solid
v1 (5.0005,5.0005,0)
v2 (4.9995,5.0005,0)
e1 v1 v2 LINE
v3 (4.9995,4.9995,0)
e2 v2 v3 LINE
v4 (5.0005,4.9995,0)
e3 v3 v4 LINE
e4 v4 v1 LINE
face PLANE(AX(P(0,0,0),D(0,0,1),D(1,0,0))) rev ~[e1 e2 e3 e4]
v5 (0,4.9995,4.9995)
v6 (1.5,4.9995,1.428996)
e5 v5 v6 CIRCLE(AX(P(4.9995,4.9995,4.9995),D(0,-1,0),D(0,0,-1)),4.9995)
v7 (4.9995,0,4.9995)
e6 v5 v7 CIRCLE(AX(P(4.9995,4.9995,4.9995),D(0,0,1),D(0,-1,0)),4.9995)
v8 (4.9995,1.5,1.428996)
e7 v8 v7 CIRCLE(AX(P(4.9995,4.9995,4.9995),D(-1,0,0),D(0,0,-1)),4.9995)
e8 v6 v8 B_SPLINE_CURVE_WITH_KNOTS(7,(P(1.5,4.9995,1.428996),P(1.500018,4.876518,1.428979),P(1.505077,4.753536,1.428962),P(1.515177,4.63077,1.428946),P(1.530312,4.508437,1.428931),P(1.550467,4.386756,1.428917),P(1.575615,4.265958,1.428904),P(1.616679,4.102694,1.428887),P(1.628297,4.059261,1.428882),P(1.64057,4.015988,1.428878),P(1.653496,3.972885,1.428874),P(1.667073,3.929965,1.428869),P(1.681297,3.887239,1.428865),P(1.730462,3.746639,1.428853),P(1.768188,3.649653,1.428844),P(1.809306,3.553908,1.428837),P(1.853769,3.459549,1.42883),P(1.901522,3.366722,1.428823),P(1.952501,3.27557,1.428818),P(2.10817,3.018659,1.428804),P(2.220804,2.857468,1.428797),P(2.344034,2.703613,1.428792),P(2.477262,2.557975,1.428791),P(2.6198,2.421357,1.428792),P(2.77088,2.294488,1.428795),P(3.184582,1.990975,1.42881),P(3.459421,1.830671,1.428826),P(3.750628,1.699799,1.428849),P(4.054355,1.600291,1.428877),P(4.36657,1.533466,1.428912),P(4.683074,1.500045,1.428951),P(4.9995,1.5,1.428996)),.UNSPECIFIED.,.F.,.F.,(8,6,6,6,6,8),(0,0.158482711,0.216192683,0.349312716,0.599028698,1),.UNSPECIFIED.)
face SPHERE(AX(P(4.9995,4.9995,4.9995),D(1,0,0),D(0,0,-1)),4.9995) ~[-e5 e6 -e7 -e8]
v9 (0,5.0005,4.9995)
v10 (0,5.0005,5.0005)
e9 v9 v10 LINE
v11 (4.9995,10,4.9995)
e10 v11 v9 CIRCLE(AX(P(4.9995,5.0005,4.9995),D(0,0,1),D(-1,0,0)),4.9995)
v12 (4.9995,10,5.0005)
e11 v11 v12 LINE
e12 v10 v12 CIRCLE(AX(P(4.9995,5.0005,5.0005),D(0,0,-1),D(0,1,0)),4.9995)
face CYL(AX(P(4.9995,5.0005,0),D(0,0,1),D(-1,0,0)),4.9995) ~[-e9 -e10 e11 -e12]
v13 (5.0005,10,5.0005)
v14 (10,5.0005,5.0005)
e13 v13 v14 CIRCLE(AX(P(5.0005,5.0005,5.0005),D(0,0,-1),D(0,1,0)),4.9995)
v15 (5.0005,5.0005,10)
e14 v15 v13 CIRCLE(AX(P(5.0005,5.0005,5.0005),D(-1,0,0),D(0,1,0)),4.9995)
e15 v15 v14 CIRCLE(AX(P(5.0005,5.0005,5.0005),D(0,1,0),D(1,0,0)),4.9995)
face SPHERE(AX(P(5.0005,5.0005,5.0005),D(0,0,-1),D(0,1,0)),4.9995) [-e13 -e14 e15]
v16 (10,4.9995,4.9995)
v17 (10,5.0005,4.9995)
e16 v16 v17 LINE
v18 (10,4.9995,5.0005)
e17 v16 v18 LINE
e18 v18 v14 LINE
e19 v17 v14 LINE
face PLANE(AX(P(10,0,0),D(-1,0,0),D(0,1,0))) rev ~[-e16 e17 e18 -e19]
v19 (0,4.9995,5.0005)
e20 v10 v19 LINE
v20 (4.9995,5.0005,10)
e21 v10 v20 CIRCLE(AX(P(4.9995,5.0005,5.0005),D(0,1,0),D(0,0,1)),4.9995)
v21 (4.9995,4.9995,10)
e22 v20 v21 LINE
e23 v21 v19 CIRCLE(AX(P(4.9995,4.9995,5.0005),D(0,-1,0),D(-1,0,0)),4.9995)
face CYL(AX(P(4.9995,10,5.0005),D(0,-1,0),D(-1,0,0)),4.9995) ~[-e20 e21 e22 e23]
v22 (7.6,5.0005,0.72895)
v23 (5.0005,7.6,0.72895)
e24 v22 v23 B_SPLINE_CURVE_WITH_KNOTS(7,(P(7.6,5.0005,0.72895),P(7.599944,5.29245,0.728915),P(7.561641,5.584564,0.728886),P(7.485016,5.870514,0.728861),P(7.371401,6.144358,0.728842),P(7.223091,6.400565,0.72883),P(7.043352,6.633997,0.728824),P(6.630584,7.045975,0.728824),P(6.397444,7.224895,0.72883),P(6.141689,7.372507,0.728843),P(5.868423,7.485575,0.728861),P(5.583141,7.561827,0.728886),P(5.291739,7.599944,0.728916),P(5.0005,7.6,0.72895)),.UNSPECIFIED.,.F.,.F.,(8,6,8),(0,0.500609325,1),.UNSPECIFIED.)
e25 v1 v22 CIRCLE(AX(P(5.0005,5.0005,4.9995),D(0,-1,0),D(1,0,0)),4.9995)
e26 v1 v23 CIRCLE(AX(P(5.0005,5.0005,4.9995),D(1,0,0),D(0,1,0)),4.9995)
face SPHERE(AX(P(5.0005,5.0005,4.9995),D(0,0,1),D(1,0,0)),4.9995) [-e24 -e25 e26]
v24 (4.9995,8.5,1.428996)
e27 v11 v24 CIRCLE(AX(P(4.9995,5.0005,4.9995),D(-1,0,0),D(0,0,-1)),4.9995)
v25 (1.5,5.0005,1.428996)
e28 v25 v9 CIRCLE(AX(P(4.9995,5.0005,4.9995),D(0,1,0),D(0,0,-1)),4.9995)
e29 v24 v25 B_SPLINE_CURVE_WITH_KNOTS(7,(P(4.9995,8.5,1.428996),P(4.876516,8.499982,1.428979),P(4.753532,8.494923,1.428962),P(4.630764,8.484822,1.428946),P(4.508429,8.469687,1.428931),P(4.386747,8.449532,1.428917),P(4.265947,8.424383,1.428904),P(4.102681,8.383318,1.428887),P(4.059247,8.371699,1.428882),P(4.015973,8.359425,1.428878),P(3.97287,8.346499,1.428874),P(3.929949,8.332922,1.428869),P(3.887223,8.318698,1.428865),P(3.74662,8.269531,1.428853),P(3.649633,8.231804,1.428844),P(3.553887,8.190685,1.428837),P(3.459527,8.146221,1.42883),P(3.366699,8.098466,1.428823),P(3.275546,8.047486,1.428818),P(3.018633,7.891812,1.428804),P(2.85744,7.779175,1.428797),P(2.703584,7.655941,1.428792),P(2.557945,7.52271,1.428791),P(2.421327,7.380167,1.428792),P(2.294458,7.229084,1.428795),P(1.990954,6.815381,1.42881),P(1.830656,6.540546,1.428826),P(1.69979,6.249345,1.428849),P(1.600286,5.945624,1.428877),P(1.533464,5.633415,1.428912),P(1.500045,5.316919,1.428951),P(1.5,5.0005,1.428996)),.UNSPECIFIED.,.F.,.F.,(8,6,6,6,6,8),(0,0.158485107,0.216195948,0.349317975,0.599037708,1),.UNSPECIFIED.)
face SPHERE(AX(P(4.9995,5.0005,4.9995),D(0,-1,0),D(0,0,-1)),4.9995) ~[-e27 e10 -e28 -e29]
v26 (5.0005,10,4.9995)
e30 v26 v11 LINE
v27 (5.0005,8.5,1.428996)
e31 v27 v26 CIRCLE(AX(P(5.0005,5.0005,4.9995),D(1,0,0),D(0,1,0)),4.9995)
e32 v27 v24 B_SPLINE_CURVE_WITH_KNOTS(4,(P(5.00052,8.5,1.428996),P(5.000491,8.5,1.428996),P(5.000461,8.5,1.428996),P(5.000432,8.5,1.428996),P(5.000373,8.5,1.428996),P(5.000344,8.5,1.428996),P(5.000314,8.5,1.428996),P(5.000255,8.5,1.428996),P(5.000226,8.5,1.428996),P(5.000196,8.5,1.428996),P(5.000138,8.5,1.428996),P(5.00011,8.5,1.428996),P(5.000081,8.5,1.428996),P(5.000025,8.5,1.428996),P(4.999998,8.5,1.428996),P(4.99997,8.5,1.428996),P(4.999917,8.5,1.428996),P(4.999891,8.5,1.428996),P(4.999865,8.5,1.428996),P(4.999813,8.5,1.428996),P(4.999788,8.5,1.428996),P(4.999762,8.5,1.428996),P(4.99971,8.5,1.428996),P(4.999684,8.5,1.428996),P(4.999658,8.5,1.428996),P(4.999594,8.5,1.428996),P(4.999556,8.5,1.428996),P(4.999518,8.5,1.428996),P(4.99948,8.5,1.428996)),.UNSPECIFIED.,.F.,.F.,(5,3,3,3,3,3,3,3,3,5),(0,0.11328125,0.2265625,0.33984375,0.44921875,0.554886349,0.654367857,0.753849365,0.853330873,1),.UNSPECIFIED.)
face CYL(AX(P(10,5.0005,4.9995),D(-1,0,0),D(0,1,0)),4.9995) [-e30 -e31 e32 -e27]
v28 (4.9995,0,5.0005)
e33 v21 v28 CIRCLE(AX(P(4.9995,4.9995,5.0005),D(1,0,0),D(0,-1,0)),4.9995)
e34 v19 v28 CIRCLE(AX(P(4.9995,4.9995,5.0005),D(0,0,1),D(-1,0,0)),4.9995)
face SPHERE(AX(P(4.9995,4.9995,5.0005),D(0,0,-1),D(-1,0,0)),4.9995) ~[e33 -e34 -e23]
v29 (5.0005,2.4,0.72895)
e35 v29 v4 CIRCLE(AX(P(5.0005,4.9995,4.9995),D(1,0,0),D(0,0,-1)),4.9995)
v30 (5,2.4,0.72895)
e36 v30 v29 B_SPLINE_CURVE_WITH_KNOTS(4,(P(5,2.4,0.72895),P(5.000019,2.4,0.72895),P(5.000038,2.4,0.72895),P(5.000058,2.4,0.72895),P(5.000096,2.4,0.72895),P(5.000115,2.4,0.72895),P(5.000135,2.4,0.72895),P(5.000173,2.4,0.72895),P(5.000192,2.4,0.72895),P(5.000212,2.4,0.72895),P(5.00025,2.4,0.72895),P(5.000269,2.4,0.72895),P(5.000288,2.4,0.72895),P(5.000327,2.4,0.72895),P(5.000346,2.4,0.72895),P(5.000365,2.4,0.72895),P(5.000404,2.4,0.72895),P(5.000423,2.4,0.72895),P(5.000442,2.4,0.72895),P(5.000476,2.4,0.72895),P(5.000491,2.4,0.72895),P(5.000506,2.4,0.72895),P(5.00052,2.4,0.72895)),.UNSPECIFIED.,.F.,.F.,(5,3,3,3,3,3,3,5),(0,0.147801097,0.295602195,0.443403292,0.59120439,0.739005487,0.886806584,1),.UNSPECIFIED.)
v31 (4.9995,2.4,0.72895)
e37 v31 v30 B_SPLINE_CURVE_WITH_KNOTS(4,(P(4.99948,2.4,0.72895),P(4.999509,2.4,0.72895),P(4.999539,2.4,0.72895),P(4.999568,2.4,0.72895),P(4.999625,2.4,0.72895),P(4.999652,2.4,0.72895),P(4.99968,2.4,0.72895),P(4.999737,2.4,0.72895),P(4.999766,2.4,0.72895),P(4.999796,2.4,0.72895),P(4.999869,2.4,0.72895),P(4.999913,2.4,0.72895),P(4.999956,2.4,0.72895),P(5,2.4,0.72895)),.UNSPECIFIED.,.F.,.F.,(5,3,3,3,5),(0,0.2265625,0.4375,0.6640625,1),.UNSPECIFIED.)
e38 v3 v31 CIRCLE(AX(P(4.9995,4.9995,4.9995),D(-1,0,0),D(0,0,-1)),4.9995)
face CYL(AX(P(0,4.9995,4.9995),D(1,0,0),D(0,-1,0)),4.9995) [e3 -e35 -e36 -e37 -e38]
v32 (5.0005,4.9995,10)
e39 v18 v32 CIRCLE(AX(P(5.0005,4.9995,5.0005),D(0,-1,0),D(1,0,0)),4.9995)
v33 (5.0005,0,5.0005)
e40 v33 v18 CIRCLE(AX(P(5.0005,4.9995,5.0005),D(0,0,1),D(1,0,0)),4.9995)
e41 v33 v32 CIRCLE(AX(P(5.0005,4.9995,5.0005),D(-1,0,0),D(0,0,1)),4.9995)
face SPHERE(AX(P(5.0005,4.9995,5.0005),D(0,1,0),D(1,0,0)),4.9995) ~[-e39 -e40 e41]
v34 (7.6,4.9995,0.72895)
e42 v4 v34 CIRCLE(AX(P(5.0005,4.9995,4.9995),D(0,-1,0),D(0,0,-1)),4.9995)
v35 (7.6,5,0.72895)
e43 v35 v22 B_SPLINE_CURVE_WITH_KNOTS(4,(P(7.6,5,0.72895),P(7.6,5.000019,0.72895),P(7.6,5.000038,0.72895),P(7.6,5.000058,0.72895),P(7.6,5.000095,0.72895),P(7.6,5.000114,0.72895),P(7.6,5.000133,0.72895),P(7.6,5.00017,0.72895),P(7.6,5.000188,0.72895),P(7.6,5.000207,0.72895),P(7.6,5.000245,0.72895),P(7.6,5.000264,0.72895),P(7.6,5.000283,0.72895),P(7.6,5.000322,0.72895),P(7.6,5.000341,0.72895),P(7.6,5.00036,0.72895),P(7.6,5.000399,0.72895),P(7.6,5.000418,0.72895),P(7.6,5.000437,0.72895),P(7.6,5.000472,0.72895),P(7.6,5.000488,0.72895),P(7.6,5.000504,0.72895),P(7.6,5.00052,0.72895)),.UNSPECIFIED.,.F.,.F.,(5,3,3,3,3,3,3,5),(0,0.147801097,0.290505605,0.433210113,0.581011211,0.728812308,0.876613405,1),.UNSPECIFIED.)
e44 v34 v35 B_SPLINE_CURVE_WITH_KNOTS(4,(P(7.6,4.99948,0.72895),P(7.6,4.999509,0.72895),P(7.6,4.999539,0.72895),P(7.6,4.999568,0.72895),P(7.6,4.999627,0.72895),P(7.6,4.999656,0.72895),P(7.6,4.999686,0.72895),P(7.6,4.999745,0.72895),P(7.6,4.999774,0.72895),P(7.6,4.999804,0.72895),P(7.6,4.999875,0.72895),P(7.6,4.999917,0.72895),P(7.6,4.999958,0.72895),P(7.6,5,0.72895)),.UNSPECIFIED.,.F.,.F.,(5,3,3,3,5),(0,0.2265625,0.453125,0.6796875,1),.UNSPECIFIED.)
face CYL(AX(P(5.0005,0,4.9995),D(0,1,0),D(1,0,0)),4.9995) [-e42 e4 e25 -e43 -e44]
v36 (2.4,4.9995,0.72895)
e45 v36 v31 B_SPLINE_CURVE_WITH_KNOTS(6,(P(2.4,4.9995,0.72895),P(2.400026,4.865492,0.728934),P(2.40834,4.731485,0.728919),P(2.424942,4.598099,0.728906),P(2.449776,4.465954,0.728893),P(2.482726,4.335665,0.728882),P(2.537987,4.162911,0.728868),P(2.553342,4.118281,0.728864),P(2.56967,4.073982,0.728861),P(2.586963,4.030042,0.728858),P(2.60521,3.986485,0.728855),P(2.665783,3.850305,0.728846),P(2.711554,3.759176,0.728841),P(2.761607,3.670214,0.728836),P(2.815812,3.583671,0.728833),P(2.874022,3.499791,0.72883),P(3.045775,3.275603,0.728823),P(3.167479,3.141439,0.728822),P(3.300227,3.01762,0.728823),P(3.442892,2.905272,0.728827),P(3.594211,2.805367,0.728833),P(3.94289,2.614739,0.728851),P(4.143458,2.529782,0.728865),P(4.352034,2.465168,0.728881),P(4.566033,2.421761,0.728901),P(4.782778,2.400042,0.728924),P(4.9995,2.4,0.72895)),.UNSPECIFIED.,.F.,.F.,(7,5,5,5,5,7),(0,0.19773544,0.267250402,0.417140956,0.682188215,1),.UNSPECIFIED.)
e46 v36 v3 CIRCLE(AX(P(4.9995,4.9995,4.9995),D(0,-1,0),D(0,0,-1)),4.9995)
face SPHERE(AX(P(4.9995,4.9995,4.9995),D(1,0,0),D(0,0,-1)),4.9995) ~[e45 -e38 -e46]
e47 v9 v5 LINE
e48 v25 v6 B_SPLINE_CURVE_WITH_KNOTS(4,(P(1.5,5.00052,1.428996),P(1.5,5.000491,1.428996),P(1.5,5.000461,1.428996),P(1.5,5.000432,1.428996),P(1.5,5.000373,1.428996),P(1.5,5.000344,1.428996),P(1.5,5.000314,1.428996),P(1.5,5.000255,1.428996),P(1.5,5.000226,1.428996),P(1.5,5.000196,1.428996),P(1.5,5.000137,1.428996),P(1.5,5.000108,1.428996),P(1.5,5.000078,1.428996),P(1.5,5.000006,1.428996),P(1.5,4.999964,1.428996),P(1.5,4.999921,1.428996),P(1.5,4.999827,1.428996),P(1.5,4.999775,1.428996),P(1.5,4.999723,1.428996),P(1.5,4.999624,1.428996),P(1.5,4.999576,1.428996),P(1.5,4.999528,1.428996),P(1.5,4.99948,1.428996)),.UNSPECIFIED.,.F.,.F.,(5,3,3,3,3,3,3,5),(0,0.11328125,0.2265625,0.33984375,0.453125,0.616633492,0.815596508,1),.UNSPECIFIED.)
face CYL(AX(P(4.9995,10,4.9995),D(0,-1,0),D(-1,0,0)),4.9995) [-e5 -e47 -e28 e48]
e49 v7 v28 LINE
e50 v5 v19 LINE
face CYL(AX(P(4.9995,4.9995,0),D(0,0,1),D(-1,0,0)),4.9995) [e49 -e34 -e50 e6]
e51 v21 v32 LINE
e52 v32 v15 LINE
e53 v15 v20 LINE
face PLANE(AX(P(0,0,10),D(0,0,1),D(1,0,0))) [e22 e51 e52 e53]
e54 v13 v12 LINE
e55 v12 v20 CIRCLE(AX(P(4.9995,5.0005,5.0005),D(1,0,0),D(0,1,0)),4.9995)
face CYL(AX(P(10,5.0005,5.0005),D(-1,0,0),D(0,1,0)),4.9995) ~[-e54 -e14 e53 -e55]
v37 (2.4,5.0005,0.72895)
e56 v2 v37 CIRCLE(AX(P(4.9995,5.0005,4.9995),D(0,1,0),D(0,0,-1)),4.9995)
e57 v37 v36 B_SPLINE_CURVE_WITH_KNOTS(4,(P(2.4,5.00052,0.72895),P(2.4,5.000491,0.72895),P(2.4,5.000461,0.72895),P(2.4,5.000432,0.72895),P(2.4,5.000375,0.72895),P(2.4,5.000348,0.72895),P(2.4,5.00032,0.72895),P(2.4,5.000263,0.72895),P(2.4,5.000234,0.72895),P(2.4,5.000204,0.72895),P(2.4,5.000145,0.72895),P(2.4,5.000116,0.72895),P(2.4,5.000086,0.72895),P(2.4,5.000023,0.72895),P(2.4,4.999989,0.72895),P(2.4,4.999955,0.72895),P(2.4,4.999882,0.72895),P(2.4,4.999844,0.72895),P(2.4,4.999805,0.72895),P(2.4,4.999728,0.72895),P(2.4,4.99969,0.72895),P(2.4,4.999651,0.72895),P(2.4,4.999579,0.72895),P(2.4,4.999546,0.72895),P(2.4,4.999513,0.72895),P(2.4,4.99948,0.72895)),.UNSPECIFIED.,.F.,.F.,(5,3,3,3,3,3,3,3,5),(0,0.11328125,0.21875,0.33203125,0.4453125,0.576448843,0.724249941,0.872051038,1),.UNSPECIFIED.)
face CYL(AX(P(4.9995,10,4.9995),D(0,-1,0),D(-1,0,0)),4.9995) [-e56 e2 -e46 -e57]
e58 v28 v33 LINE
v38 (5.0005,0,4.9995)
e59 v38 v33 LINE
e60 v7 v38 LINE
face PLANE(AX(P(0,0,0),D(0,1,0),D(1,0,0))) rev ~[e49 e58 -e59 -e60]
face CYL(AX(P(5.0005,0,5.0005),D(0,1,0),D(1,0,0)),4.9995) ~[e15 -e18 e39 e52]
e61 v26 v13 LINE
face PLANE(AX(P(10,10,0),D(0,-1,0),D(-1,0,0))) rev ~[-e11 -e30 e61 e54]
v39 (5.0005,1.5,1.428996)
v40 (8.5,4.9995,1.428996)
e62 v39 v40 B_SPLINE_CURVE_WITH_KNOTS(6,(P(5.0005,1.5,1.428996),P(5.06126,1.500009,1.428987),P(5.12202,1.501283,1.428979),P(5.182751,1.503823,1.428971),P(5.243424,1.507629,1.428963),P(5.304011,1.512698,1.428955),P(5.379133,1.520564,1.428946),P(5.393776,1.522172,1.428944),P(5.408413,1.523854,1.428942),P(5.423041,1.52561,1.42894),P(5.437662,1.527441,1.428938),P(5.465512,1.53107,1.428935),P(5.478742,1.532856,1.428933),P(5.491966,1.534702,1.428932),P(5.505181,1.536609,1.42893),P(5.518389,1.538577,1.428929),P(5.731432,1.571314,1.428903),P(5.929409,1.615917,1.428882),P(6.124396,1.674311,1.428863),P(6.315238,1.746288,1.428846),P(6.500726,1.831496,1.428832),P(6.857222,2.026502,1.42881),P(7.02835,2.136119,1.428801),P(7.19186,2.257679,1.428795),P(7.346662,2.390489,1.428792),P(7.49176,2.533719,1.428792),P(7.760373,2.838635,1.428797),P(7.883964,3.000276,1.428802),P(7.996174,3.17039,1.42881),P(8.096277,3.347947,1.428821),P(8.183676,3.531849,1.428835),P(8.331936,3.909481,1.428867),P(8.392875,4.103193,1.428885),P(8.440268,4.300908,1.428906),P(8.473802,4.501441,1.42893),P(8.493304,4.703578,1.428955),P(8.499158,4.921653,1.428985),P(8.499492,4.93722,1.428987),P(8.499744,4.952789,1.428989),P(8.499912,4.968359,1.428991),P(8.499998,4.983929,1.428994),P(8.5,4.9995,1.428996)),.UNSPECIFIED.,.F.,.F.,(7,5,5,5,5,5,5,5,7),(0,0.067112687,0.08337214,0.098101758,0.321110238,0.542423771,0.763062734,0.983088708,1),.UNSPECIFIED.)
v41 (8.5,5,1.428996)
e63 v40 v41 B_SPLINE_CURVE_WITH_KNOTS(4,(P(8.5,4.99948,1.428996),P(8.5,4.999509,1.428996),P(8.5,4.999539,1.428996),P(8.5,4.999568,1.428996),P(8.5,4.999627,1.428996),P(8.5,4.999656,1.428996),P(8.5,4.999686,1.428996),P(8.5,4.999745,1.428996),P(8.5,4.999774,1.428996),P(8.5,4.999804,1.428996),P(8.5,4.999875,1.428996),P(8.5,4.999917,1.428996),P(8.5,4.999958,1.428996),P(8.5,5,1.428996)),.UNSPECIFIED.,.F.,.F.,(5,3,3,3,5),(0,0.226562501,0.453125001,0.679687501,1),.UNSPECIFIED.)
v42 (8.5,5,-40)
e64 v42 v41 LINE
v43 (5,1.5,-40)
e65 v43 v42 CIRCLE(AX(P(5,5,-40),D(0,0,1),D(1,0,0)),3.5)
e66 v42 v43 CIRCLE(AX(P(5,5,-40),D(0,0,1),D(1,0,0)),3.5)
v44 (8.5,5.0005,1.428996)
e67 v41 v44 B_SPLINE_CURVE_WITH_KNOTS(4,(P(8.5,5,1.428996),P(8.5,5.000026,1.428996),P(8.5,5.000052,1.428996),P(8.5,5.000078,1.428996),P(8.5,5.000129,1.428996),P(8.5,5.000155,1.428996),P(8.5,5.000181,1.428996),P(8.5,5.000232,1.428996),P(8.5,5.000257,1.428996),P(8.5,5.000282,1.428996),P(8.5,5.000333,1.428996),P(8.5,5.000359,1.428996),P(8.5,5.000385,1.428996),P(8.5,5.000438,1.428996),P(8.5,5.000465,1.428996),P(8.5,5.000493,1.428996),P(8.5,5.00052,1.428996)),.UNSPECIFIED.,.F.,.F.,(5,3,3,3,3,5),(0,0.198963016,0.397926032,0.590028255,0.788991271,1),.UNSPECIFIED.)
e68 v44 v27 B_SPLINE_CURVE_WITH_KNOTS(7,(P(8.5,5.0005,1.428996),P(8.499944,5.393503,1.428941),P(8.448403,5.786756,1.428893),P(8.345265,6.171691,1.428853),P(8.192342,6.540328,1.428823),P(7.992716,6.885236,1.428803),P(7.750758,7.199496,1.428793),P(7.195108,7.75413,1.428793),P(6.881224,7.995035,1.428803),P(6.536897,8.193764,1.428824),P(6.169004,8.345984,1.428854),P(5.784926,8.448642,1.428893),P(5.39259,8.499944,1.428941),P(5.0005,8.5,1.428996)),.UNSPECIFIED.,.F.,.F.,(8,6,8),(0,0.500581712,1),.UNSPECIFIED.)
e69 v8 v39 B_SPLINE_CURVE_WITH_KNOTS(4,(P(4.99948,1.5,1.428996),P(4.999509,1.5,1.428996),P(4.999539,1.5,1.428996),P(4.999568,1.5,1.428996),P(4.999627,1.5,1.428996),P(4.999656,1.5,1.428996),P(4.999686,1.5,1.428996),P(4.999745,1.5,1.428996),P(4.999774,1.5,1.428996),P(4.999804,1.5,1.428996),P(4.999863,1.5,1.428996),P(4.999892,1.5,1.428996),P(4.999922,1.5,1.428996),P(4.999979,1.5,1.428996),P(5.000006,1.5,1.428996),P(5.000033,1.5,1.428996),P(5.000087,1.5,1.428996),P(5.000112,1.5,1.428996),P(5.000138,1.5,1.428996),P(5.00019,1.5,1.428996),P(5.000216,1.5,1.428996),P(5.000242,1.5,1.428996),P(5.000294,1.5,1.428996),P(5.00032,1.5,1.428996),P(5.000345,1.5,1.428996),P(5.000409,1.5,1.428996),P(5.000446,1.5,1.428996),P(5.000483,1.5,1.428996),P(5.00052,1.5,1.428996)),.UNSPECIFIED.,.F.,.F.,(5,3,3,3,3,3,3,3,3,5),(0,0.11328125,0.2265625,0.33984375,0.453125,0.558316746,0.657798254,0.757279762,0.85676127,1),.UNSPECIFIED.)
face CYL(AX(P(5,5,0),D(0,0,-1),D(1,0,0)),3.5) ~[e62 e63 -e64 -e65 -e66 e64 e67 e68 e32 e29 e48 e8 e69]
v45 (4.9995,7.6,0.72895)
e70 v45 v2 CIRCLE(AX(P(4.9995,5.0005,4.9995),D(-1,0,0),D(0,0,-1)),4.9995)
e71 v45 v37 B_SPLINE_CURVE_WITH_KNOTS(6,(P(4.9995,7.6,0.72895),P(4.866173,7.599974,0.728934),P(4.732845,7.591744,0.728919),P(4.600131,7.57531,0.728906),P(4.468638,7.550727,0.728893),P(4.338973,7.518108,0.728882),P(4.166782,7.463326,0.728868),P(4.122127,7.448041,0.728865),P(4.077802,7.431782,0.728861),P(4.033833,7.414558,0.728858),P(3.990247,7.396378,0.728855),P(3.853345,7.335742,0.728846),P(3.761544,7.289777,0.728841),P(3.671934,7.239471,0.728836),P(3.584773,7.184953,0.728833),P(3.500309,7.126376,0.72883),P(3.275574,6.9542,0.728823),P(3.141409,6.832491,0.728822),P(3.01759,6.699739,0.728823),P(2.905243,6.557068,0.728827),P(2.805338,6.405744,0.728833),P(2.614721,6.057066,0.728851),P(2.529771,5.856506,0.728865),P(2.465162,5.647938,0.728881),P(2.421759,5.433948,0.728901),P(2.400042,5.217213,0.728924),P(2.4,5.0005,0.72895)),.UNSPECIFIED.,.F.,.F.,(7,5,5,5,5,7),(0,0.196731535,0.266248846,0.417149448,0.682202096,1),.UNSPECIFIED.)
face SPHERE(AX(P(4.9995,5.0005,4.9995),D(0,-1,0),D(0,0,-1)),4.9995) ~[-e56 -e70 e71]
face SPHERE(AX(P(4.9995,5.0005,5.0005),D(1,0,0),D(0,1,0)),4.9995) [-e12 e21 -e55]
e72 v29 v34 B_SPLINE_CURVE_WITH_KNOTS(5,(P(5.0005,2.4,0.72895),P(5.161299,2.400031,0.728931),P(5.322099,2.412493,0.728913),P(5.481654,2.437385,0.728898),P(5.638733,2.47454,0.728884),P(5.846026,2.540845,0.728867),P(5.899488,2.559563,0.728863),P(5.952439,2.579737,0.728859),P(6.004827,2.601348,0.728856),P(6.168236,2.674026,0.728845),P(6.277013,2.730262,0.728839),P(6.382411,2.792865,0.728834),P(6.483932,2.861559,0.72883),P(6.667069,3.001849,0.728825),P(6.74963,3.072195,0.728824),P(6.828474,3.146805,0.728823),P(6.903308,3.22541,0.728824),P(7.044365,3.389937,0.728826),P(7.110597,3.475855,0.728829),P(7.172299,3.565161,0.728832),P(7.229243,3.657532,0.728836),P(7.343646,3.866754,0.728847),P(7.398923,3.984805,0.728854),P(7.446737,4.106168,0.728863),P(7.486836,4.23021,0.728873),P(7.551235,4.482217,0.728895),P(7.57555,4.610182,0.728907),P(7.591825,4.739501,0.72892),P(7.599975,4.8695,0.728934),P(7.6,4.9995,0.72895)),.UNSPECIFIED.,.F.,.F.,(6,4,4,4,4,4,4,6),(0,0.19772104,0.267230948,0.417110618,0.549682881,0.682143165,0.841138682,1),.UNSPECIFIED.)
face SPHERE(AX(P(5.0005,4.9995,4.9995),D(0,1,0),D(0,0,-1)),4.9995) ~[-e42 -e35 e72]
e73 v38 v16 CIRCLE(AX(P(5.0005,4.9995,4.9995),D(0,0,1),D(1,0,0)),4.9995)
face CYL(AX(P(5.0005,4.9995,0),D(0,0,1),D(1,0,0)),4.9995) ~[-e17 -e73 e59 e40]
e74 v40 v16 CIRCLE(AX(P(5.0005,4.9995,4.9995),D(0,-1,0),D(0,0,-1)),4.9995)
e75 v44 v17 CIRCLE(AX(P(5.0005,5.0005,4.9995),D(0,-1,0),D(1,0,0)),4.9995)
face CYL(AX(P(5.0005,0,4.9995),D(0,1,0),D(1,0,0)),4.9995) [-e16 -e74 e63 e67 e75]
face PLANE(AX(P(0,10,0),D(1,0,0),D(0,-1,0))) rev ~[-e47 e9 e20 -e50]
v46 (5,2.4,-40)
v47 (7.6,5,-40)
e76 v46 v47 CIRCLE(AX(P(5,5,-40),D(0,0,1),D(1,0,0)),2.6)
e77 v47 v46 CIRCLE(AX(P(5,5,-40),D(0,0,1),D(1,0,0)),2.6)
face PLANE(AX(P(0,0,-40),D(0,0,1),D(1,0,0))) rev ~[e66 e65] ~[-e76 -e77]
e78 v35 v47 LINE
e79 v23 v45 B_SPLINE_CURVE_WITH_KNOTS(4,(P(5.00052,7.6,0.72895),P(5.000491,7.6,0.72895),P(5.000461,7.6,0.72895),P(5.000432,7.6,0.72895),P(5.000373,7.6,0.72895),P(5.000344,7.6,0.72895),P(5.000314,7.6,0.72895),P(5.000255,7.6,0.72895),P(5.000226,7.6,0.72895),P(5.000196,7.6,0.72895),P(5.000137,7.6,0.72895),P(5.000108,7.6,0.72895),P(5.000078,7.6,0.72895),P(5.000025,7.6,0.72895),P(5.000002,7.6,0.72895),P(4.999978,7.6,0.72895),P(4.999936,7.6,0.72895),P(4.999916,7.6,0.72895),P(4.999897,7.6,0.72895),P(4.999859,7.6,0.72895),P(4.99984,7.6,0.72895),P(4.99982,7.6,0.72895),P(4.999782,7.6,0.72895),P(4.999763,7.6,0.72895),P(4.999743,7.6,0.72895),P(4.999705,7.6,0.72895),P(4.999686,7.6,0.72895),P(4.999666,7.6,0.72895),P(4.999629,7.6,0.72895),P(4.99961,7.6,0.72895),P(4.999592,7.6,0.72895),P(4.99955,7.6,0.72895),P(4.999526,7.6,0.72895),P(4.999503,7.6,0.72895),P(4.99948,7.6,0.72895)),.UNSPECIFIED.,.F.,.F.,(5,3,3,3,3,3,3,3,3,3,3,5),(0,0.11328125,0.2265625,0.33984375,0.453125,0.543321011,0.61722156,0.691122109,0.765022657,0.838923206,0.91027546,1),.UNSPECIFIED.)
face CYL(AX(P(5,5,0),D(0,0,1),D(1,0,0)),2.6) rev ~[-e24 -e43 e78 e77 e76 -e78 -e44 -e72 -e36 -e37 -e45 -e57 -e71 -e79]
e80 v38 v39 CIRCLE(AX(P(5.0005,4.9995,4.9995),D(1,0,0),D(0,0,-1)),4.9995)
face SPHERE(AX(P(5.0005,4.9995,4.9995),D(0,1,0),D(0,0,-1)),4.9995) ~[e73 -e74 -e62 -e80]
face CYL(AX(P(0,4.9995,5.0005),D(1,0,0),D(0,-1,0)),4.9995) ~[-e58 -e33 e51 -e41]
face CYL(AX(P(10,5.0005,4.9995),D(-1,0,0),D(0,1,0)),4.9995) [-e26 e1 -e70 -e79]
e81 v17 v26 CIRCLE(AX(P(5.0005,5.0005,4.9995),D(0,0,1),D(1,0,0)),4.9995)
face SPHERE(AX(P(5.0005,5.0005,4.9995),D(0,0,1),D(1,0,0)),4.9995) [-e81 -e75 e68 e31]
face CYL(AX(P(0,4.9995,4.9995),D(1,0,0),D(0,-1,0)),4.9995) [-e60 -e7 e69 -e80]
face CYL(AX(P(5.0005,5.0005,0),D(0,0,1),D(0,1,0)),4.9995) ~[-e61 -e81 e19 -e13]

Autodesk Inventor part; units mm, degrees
ref_plane "YZ Plane" through (0, 0, 0) normal (1, 0, 0) x (0, 1, 0)
ref_plane "XZ Plane" through (0, 0, 0) normal (0, 1, 0) x (-1, 0, 0)
ref_plane "XY Plane" through (0, 0, 0) normal (0, 0, 1) x (1, 0, 0)
sketch "Szkic1" plane through (0, 0, 0) normal (0, 0, 1) x (1, 0, 0)
  line L0 (0, 0) -> (10, 0)
  line L1 (10, 0) -> (10, 10)
  line L2 (10, 10) -> (0, 10)
  line L3 (0, 10) -> (0, 0)
  dimension "d0" = 10
  dimension "d1" = 10
extrude "Wyciągnięcie proste1" add sketch "Szkic1" along normal blind 10
fillet "Zaokrąglenie1" radius 5 12 edges at (10, 10, 5) (5, 10, 10) (10, 5, 10) (10, 5, 0) (5, 0, 0) (10, 0, 5) (0, 5, 0) (5, 10, 0) (0, 10, 5) (0, 0, 5) (0, 5, 10) (5, 0, 10)
sketch "Szkic2" plane through (0, 0, 0) normal (0, 0, 1) x (1, 0, 0)
  line L0 (5, 5) -> (5, 5) projected
  circle A0 centre (5, 5) radius 2.6
  line L1 (5, 0) -> (5, 5) projected
  circle A1 centre (5, 5) radius 3.5
  point P0 (0, 0)
  dimension "d5" = 5.2
  dimension "d6" = 7
extrude "Wyciągnięcie proste2" add sketch "Szkic2" along normal blind 3.25 and the other way blind 40
properties part number "pointer"
